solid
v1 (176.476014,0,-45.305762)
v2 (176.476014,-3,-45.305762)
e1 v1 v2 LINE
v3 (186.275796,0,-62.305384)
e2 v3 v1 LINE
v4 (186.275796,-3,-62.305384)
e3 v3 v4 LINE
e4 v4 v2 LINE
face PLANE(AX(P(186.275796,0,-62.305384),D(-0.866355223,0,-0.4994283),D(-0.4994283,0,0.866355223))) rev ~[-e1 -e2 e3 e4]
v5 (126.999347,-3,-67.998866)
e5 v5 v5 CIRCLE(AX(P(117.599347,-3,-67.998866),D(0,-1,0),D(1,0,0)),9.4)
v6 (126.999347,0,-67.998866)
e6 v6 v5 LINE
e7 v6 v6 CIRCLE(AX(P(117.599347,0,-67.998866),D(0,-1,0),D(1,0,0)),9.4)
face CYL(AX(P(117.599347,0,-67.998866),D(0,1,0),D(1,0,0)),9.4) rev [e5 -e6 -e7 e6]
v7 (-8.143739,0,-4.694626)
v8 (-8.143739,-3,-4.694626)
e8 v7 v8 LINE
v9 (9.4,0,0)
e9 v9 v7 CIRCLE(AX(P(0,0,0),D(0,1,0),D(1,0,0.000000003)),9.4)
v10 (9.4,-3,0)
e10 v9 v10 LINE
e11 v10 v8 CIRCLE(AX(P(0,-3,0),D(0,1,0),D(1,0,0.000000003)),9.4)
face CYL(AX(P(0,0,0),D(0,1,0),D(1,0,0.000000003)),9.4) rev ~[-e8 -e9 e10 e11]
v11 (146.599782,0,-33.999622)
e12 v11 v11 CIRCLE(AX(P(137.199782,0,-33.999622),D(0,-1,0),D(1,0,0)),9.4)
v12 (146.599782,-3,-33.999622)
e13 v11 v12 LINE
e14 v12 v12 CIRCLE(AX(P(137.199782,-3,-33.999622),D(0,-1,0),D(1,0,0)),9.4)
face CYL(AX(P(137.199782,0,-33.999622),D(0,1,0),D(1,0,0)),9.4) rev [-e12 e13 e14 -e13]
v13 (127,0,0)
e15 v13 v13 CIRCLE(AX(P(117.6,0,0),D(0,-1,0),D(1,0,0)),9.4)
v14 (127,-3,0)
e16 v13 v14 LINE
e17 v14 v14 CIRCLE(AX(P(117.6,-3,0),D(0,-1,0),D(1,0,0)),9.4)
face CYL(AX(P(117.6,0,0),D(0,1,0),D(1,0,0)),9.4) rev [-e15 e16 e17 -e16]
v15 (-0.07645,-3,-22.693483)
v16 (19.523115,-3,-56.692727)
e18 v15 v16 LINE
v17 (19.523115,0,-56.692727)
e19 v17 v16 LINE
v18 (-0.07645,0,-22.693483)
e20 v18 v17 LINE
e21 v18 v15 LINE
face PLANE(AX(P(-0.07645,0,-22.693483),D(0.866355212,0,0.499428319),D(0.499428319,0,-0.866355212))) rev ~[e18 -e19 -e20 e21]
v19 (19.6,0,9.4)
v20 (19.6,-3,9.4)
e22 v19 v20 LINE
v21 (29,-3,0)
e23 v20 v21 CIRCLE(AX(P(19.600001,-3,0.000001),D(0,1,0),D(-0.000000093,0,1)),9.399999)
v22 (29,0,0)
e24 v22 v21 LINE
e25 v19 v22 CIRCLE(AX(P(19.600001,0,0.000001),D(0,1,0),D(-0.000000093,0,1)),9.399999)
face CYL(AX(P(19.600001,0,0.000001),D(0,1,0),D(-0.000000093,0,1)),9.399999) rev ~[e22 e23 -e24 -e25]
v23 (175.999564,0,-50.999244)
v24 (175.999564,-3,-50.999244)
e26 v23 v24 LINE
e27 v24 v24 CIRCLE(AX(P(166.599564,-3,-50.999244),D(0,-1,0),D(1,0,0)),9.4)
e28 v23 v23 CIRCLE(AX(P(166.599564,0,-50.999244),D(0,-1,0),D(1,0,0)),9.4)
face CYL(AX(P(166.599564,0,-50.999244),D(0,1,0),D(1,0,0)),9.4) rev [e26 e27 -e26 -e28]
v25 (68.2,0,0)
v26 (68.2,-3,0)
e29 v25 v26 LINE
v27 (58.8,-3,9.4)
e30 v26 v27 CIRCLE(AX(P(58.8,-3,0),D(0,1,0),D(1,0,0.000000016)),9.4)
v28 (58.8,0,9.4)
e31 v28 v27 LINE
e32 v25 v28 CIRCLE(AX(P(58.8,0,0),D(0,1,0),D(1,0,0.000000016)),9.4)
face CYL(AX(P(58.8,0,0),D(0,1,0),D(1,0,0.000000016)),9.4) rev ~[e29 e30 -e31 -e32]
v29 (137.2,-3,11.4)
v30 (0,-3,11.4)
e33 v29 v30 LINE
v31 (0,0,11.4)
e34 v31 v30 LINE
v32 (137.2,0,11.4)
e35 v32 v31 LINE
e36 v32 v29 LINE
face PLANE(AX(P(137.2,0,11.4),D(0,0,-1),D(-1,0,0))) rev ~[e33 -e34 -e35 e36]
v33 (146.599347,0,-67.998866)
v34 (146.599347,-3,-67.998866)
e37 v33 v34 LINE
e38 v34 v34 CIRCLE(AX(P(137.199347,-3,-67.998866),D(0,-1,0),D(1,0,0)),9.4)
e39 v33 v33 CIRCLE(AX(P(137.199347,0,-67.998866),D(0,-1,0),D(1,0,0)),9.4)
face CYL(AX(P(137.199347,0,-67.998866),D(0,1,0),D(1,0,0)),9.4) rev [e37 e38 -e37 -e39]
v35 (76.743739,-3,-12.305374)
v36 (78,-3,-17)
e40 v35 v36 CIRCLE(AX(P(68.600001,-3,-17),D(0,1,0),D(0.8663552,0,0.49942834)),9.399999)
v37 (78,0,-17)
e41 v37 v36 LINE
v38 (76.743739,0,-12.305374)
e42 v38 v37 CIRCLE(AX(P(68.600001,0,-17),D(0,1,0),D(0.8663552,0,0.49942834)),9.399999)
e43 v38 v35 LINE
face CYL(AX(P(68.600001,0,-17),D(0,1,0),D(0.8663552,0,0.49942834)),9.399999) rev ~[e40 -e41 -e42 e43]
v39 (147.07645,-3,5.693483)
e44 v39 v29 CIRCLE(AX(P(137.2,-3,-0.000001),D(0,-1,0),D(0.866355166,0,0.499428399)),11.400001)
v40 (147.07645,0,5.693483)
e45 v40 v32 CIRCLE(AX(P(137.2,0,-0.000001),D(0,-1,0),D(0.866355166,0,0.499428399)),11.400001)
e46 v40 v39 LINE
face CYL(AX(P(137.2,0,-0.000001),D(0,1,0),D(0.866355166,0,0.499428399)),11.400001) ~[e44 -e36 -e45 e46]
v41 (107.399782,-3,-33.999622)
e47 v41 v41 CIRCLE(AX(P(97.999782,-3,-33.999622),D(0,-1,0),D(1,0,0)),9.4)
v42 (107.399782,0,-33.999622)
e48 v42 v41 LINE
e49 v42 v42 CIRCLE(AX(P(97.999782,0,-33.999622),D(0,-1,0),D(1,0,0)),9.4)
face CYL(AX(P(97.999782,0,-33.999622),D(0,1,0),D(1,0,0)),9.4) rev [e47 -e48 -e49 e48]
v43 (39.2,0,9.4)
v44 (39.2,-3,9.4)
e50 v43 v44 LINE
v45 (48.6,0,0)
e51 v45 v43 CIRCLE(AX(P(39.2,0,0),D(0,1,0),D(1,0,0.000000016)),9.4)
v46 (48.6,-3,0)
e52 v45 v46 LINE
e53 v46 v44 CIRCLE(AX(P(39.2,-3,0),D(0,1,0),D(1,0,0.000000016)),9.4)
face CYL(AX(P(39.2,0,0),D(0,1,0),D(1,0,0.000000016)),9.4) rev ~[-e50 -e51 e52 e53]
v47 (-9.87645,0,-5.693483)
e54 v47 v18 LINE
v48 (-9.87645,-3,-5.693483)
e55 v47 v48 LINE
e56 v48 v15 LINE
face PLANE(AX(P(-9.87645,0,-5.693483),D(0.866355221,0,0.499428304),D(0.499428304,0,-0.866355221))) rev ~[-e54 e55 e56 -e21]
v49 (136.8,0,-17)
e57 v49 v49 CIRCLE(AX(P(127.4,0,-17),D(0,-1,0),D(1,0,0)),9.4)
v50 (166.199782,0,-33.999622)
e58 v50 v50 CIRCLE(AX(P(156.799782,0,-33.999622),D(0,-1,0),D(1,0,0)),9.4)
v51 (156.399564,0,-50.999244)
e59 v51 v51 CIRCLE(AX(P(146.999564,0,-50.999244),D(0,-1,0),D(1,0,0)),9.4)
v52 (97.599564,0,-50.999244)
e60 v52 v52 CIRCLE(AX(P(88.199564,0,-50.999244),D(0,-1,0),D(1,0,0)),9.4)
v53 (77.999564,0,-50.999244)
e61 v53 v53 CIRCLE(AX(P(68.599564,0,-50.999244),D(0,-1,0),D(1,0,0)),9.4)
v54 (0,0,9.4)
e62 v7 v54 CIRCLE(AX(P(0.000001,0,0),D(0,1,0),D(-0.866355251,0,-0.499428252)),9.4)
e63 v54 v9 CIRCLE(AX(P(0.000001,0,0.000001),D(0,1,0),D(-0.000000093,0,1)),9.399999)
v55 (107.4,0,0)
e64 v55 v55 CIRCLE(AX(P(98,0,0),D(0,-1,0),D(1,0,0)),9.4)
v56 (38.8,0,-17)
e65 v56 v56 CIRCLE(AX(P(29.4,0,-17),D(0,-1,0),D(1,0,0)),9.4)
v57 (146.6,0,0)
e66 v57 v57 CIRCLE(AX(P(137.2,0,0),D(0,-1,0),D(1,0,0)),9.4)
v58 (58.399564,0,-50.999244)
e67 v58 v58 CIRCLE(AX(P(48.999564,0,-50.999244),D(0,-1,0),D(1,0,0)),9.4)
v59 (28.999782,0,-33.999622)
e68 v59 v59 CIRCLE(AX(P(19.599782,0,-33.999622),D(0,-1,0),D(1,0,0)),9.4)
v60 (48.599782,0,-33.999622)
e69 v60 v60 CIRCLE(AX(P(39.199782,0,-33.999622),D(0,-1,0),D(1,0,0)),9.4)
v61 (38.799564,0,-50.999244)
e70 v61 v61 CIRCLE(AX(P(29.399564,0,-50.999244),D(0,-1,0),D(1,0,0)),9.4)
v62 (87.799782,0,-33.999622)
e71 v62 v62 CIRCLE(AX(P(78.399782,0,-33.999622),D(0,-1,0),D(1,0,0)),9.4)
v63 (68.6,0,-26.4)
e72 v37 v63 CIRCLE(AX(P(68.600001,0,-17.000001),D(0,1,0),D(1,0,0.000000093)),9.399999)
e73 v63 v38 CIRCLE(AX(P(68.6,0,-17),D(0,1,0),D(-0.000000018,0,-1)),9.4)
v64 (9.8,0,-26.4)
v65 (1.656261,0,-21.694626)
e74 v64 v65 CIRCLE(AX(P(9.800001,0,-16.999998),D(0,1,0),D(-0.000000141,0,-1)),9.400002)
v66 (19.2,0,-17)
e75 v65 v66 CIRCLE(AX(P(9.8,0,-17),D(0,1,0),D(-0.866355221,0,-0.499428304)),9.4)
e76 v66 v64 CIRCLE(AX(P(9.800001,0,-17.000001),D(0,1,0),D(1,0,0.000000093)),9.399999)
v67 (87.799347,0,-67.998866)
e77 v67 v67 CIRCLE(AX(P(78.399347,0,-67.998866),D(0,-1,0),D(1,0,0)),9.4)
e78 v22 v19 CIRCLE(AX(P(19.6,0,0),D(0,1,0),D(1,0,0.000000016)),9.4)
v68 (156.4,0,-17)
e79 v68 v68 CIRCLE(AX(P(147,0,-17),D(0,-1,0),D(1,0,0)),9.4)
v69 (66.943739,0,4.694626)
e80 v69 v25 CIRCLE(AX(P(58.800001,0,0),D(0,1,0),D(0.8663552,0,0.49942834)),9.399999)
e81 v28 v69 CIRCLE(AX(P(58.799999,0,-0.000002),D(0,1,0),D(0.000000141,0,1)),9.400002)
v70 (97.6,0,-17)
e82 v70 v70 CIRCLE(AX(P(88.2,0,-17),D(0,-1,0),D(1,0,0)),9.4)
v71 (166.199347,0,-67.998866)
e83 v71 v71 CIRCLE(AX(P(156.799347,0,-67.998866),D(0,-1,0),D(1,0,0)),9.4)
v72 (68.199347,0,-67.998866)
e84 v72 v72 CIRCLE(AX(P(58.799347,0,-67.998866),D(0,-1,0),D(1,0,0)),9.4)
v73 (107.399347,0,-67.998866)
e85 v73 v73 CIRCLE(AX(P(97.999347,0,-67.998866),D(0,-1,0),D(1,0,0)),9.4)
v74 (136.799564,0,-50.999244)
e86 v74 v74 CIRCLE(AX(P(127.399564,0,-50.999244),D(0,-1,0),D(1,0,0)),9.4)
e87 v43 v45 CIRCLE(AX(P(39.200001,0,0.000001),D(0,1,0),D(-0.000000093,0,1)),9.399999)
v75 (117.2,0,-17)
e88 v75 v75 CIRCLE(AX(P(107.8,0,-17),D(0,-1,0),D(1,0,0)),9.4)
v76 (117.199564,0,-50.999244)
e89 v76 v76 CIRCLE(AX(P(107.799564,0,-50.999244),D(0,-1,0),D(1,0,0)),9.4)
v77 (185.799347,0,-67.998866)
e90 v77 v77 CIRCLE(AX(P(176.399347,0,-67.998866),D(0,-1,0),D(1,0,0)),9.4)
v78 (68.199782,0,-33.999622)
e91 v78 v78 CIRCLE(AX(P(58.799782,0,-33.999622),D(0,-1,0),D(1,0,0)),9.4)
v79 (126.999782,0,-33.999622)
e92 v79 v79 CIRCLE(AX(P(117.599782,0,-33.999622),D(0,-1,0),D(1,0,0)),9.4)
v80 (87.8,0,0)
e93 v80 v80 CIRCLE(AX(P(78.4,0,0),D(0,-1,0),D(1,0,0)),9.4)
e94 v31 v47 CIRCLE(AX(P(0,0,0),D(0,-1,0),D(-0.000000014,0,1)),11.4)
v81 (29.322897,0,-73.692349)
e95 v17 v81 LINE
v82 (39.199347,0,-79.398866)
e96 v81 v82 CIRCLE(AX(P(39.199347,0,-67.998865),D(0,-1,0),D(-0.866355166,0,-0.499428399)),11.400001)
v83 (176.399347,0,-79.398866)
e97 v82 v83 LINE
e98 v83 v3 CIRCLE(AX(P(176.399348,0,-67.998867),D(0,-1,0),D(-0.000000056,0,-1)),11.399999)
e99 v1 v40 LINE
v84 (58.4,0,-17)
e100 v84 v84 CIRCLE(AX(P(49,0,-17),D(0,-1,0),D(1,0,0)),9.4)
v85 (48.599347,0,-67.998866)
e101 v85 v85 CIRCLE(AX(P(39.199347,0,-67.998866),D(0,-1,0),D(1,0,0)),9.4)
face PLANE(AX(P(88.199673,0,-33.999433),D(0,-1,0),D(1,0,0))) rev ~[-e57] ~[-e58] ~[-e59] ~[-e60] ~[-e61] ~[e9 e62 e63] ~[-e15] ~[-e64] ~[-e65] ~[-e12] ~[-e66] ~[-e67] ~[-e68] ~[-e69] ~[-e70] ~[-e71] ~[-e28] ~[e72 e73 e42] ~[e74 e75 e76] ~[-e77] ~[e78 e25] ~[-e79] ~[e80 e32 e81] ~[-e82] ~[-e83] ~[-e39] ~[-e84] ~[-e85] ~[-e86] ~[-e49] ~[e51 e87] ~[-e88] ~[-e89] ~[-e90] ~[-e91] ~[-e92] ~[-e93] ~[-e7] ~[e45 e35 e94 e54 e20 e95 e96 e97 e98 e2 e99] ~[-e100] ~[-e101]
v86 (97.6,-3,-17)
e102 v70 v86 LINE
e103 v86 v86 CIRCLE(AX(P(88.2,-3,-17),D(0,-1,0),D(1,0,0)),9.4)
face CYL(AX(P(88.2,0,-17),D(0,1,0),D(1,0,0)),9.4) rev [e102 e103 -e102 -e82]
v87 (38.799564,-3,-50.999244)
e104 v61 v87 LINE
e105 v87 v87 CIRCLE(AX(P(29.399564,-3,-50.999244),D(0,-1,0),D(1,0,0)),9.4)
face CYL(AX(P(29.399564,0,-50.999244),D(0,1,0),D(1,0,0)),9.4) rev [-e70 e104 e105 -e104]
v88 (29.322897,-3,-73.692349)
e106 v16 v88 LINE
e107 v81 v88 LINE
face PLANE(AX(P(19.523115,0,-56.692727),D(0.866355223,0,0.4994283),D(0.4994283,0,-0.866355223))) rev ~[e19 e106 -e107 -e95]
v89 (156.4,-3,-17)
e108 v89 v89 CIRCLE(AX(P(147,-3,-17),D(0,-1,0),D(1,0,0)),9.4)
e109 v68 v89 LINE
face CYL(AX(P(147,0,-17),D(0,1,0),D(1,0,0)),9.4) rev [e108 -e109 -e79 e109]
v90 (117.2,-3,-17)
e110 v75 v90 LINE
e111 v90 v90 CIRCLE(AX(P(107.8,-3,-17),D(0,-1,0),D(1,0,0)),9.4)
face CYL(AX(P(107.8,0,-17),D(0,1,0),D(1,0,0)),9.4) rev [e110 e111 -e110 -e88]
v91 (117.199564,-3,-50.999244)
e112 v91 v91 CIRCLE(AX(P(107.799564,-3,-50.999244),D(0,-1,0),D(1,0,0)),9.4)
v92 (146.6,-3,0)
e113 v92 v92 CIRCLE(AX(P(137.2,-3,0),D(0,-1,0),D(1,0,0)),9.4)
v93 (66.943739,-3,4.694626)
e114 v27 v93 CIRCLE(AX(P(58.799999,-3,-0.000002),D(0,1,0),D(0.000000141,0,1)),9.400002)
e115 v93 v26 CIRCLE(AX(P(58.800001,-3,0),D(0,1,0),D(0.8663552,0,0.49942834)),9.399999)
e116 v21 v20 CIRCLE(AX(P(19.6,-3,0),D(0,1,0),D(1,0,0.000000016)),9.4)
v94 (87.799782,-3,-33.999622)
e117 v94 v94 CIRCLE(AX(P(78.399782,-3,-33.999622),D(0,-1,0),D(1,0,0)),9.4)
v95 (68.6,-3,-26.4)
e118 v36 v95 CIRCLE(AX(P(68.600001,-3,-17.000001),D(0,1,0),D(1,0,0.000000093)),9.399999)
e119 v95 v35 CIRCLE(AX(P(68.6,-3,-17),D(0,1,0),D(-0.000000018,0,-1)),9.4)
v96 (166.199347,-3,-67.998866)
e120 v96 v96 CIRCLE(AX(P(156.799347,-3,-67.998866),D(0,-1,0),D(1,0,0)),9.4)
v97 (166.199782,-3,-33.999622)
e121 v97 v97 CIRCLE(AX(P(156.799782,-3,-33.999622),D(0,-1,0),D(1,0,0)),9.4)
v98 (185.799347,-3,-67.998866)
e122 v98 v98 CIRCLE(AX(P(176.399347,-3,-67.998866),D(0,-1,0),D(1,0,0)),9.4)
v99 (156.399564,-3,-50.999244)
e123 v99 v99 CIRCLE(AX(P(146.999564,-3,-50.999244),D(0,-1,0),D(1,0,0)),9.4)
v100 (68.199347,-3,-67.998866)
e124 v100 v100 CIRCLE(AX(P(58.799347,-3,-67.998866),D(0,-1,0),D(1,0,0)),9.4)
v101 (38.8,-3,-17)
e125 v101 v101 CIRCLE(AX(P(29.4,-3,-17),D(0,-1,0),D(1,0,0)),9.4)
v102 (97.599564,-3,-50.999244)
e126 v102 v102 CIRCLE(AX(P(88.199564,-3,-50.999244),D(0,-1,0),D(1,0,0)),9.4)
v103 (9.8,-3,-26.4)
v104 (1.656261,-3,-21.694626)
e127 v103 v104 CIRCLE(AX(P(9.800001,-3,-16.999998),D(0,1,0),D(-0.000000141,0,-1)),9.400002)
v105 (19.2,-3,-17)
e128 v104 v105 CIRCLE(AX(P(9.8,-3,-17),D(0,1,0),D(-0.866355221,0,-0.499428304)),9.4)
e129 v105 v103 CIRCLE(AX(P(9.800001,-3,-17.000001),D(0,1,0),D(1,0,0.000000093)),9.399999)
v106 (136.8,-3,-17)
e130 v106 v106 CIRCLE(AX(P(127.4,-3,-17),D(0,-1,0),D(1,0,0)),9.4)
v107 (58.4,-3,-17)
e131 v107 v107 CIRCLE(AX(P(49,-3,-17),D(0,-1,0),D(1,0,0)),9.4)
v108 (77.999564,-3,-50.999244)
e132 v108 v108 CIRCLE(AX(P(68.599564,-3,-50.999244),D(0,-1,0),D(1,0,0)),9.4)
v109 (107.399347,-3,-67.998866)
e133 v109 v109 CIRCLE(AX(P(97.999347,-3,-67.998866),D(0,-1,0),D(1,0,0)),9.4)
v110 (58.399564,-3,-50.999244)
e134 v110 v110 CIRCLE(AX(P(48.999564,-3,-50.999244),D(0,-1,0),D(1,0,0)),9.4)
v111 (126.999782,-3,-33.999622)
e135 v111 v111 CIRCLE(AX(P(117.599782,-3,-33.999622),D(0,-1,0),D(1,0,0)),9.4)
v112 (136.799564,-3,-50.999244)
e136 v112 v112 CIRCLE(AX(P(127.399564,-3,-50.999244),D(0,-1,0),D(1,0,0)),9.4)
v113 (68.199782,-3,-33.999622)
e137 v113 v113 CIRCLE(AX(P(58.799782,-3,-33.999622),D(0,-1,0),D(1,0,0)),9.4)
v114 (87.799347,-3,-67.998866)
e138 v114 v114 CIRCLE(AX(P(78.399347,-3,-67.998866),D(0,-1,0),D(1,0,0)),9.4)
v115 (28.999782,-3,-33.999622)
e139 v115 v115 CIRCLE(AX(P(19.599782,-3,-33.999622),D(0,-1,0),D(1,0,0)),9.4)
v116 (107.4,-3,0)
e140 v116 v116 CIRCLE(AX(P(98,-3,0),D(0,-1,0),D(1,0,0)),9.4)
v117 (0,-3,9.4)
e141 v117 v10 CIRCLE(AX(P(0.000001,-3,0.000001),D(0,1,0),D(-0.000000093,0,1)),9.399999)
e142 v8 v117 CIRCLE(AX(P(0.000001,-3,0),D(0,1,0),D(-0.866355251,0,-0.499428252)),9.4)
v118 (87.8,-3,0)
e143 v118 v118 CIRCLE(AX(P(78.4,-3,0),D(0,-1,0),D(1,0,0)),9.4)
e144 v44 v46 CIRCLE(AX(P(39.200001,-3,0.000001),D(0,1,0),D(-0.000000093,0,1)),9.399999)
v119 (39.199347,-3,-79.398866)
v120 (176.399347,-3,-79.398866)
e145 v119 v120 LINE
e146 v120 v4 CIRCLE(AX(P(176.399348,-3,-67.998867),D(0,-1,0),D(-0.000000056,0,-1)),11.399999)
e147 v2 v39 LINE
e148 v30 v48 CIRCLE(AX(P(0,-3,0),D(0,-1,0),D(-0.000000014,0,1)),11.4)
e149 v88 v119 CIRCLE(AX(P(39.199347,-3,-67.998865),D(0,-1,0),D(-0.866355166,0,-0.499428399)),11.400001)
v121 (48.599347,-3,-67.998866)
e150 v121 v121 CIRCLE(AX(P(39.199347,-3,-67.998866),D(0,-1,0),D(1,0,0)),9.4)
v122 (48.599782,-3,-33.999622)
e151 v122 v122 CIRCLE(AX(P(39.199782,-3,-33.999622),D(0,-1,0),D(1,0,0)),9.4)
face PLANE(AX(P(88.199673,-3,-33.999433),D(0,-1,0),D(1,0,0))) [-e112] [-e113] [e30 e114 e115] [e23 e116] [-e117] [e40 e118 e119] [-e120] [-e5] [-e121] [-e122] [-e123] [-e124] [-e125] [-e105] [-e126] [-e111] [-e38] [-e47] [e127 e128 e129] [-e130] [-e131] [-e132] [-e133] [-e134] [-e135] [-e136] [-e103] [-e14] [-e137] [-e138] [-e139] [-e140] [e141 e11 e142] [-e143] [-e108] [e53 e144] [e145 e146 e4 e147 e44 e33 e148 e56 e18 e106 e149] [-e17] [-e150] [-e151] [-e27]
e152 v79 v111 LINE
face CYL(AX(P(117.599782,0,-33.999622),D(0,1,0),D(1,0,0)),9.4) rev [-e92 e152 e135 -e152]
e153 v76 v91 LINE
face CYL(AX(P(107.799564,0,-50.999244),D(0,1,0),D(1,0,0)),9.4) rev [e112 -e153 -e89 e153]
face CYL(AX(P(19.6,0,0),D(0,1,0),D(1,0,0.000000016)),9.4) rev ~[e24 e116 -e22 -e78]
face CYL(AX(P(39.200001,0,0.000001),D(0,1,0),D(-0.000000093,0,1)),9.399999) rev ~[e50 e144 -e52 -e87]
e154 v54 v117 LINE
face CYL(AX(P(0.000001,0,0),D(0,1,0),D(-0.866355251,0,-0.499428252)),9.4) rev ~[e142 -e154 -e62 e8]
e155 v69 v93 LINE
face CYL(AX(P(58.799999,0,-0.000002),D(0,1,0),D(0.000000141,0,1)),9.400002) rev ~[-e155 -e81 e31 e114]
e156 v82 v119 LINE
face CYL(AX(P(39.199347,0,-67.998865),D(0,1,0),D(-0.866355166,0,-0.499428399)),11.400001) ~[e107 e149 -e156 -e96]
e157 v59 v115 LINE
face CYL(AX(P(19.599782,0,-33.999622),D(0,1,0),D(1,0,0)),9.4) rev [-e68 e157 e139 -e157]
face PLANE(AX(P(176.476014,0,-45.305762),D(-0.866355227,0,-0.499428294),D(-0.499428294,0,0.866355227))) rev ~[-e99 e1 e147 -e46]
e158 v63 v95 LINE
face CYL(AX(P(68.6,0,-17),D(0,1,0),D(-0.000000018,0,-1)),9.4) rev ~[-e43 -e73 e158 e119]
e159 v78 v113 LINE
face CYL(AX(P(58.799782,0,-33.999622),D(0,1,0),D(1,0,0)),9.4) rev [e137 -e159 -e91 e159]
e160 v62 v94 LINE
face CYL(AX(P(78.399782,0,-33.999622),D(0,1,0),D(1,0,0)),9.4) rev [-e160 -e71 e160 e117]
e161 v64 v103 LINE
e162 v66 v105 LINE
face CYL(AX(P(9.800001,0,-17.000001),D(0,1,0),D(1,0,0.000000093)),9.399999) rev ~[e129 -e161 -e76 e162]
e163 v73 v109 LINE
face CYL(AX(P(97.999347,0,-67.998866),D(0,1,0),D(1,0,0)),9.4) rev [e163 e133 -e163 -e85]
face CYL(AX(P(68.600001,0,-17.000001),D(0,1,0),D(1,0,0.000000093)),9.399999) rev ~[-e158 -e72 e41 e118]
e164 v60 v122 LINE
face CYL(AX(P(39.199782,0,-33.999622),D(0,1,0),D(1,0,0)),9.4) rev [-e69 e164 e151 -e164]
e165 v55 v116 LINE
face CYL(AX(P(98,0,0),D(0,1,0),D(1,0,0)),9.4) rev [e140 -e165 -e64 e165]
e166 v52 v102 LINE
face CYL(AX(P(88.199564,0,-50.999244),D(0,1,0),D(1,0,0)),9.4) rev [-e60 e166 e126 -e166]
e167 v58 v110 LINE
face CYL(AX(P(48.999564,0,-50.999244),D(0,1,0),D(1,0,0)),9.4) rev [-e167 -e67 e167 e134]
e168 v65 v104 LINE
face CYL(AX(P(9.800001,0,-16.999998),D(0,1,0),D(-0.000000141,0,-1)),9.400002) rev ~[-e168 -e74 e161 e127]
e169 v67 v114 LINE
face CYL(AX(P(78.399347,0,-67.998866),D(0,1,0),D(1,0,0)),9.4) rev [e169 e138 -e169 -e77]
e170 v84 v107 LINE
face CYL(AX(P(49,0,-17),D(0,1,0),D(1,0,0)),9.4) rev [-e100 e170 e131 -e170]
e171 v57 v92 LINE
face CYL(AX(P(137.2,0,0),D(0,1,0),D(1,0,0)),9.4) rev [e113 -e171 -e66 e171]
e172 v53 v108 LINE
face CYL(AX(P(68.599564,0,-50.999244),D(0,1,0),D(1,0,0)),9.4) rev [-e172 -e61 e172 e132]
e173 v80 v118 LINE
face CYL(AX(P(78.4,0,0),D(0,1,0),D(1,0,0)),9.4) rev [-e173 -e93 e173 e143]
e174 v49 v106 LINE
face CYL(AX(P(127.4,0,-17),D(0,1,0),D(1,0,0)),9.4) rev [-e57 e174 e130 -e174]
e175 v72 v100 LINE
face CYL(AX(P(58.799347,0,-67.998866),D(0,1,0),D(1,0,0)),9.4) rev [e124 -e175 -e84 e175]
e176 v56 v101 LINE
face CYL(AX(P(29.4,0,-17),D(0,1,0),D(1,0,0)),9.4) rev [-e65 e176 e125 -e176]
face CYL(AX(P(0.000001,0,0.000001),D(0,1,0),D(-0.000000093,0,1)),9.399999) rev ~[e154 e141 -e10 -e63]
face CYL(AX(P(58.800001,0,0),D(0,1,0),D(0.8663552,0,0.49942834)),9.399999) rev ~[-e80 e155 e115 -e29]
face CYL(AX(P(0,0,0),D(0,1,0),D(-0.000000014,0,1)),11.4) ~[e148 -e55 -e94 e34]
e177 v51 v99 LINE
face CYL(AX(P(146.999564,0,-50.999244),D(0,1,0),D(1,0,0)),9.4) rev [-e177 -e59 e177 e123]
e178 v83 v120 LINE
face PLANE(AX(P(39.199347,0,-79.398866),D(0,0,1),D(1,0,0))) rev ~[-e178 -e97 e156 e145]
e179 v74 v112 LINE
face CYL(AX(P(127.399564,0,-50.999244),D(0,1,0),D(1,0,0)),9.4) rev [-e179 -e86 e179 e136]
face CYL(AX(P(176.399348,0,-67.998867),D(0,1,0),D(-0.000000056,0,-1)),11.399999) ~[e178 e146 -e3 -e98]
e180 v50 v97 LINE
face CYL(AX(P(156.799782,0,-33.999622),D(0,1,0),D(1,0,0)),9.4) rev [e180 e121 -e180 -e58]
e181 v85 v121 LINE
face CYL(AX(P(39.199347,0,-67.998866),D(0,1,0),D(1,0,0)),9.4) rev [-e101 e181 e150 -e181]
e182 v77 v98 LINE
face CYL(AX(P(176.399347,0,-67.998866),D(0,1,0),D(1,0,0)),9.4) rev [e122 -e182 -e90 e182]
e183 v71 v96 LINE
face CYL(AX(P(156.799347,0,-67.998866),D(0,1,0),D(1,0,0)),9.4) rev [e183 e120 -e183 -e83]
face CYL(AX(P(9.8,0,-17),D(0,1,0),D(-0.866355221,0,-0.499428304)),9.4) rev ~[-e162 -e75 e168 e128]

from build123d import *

# Parameters (mm, degrees)
F0_R     = 9.4
F1_DEPTH = 3


with BuildPart() as f1:
    # F0 (on Front) → F1 (new body)
    with BuildSketch(Plane.XZ):
        with BuildLine():
            Line((58.8, 11.4), (0, 11.4))
            ThreePointArc((0, 11.4), (-9.870808, 5.703258), (-9.87645, -5.693483))
            Line((-9.87645, -5.693483), (-0.07645, -22.693483))
            Line((-0.07645, -22.693483), (19.523115, -56.692727))
            Line((19.523115, -56.692727), (29.322897, -73.692349))
            ThreePointArc((29.322897, -73.692349), (33.496089, -77.869674), (39.199347, -79.398866))
            Line((39.199347, -79.398866), (176.399347, -79.398866))
            ThreePointArc((176.399347, -79.398866), (186.270155, -73.702124), (186.275796, -62.305384))
            Line((186.275796, -62.305384), (176.476014, -45.305762))
            Line((176.476014, -45.305762), (147.07645, 5.693483))
            ThreePointArc((147.07645, 5.693483), (142.903258, 9.870808), (137.2, 11.4))
            Line((137.2, 11.4), (98, 11.4))
            Line((98, 11.4), (58.8, 11.4))
        make_face()
        with Locations((39.199347, -67.998866)):
            Circle(F0_R, mode=Mode.SUBTRACT)
        with Locations((58.799347, -67.998866)):
            Circle(F0_R, mode=Mode.SUBTRACT)
        with Locations((78.399347, -67.998866)):
            Circle(F0_R, mode=Mode.SUBTRACT)
        with Locations((29.399564, -50.999244)):
            Circle(F0_R, mode=Mode.SUBTRACT)
        with Locations((19.599782, -33.999622)):
            Circle(F0_R, mode=Mode.SUBTRACT)
        with Locations((48.999564, -50.999244)):
            Circle(F0_R, mode=Mode.SUBTRACT)
        with Locations((68.599564, -50.999244)):
            Circle(F0_R, mode=Mode.SUBTRACT)
        with Locations((88.199564, -50.999244)):
            Circle(F0_R, mode=Mode.SUBTRACT)
        with Locations((39.199782, -33.999622)):
            Circle(F0_R, mode=Mode.SUBTRACT)
        with Locations((58.799782, -33.999622)):
            Circle(F0_R, mode=Mode.SUBTRACT)
        with Locations((78.399782, -33.999622)):
            Circle(F0_R, mode=Mode.SUBTRACT)
        with Locations((97.999347, -67.998866)):
            Circle(F0_R, mode=Mode.SUBTRACT)
        with Locations((117.599347, -67.998866)):
            Circle(F0_R, mode=Mode.SUBTRACT)
        with Locations((137.199347, -67.998866)):
            Circle(F0_R, mode=Mode.SUBTRACT)
        with Locations((156.799347, -67.998866)):
            Circle(F0_R, mode=Mode.SUBTRACT)
        with Locations((176.399347, -67.998866)):
            Circle(F0_R, mode=Mode.SUBTRACT)
        with Locations((107.799564, -50.999244)):
            Circle(F0_R, mode=Mode.SUBTRACT)
        with Locations((127.399564, -50.999244)):
            Circle(F0_R, mode=Mode.SUBTRACT)
        with Locations((97.999782, -33.999622)):
            Circle(F0_R, mode=Mode.SUBTRACT)
        with Locations((117.599782, -33.999622)):
            Circle(F0_R, mode=Mode.SUBTRACT)
        with Locations((137.199782, -33.999622)):
            Circle(F0_R, mode=Mode.SUBTRACT)
        with Locations((146.999564, -50.999244)):
            Circle(F0_R, mode=Mode.SUBTRACT)
        with Locations((166.599564, -50.999244)):
            Circle(F0_R, mode=Mode.SUBTRACT)
        with Locations((156.799782, -33.999622)):
            Circle(F0_R, mode=Mode.SUBTRACT)
        with BuildLine():
            ThreePointArc((9.8, -26.4), (5.097314, -25.139087), (1.656261, -21.694626))
            ThreePointArc((1.656261, -21.694626), (7.370097, -7.919495), (19.2, -17))
            ThreePointArc((19.2, -17), (16.446804, -23.646804), (9.8, -26.4))
        make_face(mode=Mode.SUBTRACT)
        with Locations((29.4, -17)):
            Circle(F0_R, mode=Mode.SUBTRACT)
        with Locations((49, -17)):
            Circle(F0_R, mode=Mode.SUBTRACT)
        with BuildLine():
            ThreePointArc((76.743739, -12.305374), (77.680505, -14.570097), (78, -17))
            ThreePointArc((78, -17), (75.246804, -23.646804), (68.6, -26.4))
            ThreePointArc((68.6, -26.4), (60.460913, -12.297314), (76.743739, -12.305374))
        make_face(mode=Mode.SUBTRACT)
        with BuildLine():
            ThreePointArc((0, 9.4), (6.646804, 6.646804), (9.4, 0))
            ThreePointArc((9.4, 0), (2.429903, -9.080505), (-8.143739, -4.694626))
            ThreePointArc((-8.143739, -4.694626), (-8.139087, 4.702686), (0, 9.4))
        make_face(mode=Mode.SUBTRACT)
        with BuildLine():
            ThreePointArc((29, 0), (12.953196, -6.646804), (19.6, 9.4))
            ThreePointArc((19.6, 9.4), (26.246804, 6.646804), (29, 0))
        make_face(mode=Mode.SUBTRACT)
        with BuildLine():
            ThreePointArc((48.6, 0), (32.553196, -6.646804), (39.2, 9.4))
            ThreePointArc((39.2, 9.4), (45.846804, 6.646804), (48.6, 0))
        make_face(mode=Mode.SUBTRACT)
        with BuildLine():
            ThreePointArc((68.2, 0), (52.153196, -6.646804), (58.8, 9.4))
            ThreePointArc((58.8, 9.4), (63.502686, 8.139087), (66.943739, 4.694626))
            ThreePointArc((66.943739, 4.694626), (67.880505, 2.429903), (68.2, 0))
        make_face(mode=Mode.SUBTRACT)
        with Locations((78.4, 0)):
            Circle(F0_R, mode=Mode.SUBTRACT)
        with Locations((88.2, -17)):
            Circle(F0_R, mode=Mode.SUBTRACT)
        with Locations((107.8, -17)):
            Circle(F0_R, mode=Mode.SUBTRACT)
        with Locations((127.4, -17)):
            Circle(F0_R, mode=Mode.SUBTRACT)
        with Locations((147, -17)):
            Circle(F0_R, mode=Mode.SUBTRACT)
        with Locations((98, 0)):
            Circle(F0_R, mode=Mode.SUBTRACT)
        with Locations((117.6, 0)):
            Circle(F0_R, mode=Mode.SUBTRACT)
        with Locations((137.2, 0)):
            Circle(F0_R, mode=Mode.SUBTRACT)
    extrude(amount=F1_DEPTH)


solid = f1.part
